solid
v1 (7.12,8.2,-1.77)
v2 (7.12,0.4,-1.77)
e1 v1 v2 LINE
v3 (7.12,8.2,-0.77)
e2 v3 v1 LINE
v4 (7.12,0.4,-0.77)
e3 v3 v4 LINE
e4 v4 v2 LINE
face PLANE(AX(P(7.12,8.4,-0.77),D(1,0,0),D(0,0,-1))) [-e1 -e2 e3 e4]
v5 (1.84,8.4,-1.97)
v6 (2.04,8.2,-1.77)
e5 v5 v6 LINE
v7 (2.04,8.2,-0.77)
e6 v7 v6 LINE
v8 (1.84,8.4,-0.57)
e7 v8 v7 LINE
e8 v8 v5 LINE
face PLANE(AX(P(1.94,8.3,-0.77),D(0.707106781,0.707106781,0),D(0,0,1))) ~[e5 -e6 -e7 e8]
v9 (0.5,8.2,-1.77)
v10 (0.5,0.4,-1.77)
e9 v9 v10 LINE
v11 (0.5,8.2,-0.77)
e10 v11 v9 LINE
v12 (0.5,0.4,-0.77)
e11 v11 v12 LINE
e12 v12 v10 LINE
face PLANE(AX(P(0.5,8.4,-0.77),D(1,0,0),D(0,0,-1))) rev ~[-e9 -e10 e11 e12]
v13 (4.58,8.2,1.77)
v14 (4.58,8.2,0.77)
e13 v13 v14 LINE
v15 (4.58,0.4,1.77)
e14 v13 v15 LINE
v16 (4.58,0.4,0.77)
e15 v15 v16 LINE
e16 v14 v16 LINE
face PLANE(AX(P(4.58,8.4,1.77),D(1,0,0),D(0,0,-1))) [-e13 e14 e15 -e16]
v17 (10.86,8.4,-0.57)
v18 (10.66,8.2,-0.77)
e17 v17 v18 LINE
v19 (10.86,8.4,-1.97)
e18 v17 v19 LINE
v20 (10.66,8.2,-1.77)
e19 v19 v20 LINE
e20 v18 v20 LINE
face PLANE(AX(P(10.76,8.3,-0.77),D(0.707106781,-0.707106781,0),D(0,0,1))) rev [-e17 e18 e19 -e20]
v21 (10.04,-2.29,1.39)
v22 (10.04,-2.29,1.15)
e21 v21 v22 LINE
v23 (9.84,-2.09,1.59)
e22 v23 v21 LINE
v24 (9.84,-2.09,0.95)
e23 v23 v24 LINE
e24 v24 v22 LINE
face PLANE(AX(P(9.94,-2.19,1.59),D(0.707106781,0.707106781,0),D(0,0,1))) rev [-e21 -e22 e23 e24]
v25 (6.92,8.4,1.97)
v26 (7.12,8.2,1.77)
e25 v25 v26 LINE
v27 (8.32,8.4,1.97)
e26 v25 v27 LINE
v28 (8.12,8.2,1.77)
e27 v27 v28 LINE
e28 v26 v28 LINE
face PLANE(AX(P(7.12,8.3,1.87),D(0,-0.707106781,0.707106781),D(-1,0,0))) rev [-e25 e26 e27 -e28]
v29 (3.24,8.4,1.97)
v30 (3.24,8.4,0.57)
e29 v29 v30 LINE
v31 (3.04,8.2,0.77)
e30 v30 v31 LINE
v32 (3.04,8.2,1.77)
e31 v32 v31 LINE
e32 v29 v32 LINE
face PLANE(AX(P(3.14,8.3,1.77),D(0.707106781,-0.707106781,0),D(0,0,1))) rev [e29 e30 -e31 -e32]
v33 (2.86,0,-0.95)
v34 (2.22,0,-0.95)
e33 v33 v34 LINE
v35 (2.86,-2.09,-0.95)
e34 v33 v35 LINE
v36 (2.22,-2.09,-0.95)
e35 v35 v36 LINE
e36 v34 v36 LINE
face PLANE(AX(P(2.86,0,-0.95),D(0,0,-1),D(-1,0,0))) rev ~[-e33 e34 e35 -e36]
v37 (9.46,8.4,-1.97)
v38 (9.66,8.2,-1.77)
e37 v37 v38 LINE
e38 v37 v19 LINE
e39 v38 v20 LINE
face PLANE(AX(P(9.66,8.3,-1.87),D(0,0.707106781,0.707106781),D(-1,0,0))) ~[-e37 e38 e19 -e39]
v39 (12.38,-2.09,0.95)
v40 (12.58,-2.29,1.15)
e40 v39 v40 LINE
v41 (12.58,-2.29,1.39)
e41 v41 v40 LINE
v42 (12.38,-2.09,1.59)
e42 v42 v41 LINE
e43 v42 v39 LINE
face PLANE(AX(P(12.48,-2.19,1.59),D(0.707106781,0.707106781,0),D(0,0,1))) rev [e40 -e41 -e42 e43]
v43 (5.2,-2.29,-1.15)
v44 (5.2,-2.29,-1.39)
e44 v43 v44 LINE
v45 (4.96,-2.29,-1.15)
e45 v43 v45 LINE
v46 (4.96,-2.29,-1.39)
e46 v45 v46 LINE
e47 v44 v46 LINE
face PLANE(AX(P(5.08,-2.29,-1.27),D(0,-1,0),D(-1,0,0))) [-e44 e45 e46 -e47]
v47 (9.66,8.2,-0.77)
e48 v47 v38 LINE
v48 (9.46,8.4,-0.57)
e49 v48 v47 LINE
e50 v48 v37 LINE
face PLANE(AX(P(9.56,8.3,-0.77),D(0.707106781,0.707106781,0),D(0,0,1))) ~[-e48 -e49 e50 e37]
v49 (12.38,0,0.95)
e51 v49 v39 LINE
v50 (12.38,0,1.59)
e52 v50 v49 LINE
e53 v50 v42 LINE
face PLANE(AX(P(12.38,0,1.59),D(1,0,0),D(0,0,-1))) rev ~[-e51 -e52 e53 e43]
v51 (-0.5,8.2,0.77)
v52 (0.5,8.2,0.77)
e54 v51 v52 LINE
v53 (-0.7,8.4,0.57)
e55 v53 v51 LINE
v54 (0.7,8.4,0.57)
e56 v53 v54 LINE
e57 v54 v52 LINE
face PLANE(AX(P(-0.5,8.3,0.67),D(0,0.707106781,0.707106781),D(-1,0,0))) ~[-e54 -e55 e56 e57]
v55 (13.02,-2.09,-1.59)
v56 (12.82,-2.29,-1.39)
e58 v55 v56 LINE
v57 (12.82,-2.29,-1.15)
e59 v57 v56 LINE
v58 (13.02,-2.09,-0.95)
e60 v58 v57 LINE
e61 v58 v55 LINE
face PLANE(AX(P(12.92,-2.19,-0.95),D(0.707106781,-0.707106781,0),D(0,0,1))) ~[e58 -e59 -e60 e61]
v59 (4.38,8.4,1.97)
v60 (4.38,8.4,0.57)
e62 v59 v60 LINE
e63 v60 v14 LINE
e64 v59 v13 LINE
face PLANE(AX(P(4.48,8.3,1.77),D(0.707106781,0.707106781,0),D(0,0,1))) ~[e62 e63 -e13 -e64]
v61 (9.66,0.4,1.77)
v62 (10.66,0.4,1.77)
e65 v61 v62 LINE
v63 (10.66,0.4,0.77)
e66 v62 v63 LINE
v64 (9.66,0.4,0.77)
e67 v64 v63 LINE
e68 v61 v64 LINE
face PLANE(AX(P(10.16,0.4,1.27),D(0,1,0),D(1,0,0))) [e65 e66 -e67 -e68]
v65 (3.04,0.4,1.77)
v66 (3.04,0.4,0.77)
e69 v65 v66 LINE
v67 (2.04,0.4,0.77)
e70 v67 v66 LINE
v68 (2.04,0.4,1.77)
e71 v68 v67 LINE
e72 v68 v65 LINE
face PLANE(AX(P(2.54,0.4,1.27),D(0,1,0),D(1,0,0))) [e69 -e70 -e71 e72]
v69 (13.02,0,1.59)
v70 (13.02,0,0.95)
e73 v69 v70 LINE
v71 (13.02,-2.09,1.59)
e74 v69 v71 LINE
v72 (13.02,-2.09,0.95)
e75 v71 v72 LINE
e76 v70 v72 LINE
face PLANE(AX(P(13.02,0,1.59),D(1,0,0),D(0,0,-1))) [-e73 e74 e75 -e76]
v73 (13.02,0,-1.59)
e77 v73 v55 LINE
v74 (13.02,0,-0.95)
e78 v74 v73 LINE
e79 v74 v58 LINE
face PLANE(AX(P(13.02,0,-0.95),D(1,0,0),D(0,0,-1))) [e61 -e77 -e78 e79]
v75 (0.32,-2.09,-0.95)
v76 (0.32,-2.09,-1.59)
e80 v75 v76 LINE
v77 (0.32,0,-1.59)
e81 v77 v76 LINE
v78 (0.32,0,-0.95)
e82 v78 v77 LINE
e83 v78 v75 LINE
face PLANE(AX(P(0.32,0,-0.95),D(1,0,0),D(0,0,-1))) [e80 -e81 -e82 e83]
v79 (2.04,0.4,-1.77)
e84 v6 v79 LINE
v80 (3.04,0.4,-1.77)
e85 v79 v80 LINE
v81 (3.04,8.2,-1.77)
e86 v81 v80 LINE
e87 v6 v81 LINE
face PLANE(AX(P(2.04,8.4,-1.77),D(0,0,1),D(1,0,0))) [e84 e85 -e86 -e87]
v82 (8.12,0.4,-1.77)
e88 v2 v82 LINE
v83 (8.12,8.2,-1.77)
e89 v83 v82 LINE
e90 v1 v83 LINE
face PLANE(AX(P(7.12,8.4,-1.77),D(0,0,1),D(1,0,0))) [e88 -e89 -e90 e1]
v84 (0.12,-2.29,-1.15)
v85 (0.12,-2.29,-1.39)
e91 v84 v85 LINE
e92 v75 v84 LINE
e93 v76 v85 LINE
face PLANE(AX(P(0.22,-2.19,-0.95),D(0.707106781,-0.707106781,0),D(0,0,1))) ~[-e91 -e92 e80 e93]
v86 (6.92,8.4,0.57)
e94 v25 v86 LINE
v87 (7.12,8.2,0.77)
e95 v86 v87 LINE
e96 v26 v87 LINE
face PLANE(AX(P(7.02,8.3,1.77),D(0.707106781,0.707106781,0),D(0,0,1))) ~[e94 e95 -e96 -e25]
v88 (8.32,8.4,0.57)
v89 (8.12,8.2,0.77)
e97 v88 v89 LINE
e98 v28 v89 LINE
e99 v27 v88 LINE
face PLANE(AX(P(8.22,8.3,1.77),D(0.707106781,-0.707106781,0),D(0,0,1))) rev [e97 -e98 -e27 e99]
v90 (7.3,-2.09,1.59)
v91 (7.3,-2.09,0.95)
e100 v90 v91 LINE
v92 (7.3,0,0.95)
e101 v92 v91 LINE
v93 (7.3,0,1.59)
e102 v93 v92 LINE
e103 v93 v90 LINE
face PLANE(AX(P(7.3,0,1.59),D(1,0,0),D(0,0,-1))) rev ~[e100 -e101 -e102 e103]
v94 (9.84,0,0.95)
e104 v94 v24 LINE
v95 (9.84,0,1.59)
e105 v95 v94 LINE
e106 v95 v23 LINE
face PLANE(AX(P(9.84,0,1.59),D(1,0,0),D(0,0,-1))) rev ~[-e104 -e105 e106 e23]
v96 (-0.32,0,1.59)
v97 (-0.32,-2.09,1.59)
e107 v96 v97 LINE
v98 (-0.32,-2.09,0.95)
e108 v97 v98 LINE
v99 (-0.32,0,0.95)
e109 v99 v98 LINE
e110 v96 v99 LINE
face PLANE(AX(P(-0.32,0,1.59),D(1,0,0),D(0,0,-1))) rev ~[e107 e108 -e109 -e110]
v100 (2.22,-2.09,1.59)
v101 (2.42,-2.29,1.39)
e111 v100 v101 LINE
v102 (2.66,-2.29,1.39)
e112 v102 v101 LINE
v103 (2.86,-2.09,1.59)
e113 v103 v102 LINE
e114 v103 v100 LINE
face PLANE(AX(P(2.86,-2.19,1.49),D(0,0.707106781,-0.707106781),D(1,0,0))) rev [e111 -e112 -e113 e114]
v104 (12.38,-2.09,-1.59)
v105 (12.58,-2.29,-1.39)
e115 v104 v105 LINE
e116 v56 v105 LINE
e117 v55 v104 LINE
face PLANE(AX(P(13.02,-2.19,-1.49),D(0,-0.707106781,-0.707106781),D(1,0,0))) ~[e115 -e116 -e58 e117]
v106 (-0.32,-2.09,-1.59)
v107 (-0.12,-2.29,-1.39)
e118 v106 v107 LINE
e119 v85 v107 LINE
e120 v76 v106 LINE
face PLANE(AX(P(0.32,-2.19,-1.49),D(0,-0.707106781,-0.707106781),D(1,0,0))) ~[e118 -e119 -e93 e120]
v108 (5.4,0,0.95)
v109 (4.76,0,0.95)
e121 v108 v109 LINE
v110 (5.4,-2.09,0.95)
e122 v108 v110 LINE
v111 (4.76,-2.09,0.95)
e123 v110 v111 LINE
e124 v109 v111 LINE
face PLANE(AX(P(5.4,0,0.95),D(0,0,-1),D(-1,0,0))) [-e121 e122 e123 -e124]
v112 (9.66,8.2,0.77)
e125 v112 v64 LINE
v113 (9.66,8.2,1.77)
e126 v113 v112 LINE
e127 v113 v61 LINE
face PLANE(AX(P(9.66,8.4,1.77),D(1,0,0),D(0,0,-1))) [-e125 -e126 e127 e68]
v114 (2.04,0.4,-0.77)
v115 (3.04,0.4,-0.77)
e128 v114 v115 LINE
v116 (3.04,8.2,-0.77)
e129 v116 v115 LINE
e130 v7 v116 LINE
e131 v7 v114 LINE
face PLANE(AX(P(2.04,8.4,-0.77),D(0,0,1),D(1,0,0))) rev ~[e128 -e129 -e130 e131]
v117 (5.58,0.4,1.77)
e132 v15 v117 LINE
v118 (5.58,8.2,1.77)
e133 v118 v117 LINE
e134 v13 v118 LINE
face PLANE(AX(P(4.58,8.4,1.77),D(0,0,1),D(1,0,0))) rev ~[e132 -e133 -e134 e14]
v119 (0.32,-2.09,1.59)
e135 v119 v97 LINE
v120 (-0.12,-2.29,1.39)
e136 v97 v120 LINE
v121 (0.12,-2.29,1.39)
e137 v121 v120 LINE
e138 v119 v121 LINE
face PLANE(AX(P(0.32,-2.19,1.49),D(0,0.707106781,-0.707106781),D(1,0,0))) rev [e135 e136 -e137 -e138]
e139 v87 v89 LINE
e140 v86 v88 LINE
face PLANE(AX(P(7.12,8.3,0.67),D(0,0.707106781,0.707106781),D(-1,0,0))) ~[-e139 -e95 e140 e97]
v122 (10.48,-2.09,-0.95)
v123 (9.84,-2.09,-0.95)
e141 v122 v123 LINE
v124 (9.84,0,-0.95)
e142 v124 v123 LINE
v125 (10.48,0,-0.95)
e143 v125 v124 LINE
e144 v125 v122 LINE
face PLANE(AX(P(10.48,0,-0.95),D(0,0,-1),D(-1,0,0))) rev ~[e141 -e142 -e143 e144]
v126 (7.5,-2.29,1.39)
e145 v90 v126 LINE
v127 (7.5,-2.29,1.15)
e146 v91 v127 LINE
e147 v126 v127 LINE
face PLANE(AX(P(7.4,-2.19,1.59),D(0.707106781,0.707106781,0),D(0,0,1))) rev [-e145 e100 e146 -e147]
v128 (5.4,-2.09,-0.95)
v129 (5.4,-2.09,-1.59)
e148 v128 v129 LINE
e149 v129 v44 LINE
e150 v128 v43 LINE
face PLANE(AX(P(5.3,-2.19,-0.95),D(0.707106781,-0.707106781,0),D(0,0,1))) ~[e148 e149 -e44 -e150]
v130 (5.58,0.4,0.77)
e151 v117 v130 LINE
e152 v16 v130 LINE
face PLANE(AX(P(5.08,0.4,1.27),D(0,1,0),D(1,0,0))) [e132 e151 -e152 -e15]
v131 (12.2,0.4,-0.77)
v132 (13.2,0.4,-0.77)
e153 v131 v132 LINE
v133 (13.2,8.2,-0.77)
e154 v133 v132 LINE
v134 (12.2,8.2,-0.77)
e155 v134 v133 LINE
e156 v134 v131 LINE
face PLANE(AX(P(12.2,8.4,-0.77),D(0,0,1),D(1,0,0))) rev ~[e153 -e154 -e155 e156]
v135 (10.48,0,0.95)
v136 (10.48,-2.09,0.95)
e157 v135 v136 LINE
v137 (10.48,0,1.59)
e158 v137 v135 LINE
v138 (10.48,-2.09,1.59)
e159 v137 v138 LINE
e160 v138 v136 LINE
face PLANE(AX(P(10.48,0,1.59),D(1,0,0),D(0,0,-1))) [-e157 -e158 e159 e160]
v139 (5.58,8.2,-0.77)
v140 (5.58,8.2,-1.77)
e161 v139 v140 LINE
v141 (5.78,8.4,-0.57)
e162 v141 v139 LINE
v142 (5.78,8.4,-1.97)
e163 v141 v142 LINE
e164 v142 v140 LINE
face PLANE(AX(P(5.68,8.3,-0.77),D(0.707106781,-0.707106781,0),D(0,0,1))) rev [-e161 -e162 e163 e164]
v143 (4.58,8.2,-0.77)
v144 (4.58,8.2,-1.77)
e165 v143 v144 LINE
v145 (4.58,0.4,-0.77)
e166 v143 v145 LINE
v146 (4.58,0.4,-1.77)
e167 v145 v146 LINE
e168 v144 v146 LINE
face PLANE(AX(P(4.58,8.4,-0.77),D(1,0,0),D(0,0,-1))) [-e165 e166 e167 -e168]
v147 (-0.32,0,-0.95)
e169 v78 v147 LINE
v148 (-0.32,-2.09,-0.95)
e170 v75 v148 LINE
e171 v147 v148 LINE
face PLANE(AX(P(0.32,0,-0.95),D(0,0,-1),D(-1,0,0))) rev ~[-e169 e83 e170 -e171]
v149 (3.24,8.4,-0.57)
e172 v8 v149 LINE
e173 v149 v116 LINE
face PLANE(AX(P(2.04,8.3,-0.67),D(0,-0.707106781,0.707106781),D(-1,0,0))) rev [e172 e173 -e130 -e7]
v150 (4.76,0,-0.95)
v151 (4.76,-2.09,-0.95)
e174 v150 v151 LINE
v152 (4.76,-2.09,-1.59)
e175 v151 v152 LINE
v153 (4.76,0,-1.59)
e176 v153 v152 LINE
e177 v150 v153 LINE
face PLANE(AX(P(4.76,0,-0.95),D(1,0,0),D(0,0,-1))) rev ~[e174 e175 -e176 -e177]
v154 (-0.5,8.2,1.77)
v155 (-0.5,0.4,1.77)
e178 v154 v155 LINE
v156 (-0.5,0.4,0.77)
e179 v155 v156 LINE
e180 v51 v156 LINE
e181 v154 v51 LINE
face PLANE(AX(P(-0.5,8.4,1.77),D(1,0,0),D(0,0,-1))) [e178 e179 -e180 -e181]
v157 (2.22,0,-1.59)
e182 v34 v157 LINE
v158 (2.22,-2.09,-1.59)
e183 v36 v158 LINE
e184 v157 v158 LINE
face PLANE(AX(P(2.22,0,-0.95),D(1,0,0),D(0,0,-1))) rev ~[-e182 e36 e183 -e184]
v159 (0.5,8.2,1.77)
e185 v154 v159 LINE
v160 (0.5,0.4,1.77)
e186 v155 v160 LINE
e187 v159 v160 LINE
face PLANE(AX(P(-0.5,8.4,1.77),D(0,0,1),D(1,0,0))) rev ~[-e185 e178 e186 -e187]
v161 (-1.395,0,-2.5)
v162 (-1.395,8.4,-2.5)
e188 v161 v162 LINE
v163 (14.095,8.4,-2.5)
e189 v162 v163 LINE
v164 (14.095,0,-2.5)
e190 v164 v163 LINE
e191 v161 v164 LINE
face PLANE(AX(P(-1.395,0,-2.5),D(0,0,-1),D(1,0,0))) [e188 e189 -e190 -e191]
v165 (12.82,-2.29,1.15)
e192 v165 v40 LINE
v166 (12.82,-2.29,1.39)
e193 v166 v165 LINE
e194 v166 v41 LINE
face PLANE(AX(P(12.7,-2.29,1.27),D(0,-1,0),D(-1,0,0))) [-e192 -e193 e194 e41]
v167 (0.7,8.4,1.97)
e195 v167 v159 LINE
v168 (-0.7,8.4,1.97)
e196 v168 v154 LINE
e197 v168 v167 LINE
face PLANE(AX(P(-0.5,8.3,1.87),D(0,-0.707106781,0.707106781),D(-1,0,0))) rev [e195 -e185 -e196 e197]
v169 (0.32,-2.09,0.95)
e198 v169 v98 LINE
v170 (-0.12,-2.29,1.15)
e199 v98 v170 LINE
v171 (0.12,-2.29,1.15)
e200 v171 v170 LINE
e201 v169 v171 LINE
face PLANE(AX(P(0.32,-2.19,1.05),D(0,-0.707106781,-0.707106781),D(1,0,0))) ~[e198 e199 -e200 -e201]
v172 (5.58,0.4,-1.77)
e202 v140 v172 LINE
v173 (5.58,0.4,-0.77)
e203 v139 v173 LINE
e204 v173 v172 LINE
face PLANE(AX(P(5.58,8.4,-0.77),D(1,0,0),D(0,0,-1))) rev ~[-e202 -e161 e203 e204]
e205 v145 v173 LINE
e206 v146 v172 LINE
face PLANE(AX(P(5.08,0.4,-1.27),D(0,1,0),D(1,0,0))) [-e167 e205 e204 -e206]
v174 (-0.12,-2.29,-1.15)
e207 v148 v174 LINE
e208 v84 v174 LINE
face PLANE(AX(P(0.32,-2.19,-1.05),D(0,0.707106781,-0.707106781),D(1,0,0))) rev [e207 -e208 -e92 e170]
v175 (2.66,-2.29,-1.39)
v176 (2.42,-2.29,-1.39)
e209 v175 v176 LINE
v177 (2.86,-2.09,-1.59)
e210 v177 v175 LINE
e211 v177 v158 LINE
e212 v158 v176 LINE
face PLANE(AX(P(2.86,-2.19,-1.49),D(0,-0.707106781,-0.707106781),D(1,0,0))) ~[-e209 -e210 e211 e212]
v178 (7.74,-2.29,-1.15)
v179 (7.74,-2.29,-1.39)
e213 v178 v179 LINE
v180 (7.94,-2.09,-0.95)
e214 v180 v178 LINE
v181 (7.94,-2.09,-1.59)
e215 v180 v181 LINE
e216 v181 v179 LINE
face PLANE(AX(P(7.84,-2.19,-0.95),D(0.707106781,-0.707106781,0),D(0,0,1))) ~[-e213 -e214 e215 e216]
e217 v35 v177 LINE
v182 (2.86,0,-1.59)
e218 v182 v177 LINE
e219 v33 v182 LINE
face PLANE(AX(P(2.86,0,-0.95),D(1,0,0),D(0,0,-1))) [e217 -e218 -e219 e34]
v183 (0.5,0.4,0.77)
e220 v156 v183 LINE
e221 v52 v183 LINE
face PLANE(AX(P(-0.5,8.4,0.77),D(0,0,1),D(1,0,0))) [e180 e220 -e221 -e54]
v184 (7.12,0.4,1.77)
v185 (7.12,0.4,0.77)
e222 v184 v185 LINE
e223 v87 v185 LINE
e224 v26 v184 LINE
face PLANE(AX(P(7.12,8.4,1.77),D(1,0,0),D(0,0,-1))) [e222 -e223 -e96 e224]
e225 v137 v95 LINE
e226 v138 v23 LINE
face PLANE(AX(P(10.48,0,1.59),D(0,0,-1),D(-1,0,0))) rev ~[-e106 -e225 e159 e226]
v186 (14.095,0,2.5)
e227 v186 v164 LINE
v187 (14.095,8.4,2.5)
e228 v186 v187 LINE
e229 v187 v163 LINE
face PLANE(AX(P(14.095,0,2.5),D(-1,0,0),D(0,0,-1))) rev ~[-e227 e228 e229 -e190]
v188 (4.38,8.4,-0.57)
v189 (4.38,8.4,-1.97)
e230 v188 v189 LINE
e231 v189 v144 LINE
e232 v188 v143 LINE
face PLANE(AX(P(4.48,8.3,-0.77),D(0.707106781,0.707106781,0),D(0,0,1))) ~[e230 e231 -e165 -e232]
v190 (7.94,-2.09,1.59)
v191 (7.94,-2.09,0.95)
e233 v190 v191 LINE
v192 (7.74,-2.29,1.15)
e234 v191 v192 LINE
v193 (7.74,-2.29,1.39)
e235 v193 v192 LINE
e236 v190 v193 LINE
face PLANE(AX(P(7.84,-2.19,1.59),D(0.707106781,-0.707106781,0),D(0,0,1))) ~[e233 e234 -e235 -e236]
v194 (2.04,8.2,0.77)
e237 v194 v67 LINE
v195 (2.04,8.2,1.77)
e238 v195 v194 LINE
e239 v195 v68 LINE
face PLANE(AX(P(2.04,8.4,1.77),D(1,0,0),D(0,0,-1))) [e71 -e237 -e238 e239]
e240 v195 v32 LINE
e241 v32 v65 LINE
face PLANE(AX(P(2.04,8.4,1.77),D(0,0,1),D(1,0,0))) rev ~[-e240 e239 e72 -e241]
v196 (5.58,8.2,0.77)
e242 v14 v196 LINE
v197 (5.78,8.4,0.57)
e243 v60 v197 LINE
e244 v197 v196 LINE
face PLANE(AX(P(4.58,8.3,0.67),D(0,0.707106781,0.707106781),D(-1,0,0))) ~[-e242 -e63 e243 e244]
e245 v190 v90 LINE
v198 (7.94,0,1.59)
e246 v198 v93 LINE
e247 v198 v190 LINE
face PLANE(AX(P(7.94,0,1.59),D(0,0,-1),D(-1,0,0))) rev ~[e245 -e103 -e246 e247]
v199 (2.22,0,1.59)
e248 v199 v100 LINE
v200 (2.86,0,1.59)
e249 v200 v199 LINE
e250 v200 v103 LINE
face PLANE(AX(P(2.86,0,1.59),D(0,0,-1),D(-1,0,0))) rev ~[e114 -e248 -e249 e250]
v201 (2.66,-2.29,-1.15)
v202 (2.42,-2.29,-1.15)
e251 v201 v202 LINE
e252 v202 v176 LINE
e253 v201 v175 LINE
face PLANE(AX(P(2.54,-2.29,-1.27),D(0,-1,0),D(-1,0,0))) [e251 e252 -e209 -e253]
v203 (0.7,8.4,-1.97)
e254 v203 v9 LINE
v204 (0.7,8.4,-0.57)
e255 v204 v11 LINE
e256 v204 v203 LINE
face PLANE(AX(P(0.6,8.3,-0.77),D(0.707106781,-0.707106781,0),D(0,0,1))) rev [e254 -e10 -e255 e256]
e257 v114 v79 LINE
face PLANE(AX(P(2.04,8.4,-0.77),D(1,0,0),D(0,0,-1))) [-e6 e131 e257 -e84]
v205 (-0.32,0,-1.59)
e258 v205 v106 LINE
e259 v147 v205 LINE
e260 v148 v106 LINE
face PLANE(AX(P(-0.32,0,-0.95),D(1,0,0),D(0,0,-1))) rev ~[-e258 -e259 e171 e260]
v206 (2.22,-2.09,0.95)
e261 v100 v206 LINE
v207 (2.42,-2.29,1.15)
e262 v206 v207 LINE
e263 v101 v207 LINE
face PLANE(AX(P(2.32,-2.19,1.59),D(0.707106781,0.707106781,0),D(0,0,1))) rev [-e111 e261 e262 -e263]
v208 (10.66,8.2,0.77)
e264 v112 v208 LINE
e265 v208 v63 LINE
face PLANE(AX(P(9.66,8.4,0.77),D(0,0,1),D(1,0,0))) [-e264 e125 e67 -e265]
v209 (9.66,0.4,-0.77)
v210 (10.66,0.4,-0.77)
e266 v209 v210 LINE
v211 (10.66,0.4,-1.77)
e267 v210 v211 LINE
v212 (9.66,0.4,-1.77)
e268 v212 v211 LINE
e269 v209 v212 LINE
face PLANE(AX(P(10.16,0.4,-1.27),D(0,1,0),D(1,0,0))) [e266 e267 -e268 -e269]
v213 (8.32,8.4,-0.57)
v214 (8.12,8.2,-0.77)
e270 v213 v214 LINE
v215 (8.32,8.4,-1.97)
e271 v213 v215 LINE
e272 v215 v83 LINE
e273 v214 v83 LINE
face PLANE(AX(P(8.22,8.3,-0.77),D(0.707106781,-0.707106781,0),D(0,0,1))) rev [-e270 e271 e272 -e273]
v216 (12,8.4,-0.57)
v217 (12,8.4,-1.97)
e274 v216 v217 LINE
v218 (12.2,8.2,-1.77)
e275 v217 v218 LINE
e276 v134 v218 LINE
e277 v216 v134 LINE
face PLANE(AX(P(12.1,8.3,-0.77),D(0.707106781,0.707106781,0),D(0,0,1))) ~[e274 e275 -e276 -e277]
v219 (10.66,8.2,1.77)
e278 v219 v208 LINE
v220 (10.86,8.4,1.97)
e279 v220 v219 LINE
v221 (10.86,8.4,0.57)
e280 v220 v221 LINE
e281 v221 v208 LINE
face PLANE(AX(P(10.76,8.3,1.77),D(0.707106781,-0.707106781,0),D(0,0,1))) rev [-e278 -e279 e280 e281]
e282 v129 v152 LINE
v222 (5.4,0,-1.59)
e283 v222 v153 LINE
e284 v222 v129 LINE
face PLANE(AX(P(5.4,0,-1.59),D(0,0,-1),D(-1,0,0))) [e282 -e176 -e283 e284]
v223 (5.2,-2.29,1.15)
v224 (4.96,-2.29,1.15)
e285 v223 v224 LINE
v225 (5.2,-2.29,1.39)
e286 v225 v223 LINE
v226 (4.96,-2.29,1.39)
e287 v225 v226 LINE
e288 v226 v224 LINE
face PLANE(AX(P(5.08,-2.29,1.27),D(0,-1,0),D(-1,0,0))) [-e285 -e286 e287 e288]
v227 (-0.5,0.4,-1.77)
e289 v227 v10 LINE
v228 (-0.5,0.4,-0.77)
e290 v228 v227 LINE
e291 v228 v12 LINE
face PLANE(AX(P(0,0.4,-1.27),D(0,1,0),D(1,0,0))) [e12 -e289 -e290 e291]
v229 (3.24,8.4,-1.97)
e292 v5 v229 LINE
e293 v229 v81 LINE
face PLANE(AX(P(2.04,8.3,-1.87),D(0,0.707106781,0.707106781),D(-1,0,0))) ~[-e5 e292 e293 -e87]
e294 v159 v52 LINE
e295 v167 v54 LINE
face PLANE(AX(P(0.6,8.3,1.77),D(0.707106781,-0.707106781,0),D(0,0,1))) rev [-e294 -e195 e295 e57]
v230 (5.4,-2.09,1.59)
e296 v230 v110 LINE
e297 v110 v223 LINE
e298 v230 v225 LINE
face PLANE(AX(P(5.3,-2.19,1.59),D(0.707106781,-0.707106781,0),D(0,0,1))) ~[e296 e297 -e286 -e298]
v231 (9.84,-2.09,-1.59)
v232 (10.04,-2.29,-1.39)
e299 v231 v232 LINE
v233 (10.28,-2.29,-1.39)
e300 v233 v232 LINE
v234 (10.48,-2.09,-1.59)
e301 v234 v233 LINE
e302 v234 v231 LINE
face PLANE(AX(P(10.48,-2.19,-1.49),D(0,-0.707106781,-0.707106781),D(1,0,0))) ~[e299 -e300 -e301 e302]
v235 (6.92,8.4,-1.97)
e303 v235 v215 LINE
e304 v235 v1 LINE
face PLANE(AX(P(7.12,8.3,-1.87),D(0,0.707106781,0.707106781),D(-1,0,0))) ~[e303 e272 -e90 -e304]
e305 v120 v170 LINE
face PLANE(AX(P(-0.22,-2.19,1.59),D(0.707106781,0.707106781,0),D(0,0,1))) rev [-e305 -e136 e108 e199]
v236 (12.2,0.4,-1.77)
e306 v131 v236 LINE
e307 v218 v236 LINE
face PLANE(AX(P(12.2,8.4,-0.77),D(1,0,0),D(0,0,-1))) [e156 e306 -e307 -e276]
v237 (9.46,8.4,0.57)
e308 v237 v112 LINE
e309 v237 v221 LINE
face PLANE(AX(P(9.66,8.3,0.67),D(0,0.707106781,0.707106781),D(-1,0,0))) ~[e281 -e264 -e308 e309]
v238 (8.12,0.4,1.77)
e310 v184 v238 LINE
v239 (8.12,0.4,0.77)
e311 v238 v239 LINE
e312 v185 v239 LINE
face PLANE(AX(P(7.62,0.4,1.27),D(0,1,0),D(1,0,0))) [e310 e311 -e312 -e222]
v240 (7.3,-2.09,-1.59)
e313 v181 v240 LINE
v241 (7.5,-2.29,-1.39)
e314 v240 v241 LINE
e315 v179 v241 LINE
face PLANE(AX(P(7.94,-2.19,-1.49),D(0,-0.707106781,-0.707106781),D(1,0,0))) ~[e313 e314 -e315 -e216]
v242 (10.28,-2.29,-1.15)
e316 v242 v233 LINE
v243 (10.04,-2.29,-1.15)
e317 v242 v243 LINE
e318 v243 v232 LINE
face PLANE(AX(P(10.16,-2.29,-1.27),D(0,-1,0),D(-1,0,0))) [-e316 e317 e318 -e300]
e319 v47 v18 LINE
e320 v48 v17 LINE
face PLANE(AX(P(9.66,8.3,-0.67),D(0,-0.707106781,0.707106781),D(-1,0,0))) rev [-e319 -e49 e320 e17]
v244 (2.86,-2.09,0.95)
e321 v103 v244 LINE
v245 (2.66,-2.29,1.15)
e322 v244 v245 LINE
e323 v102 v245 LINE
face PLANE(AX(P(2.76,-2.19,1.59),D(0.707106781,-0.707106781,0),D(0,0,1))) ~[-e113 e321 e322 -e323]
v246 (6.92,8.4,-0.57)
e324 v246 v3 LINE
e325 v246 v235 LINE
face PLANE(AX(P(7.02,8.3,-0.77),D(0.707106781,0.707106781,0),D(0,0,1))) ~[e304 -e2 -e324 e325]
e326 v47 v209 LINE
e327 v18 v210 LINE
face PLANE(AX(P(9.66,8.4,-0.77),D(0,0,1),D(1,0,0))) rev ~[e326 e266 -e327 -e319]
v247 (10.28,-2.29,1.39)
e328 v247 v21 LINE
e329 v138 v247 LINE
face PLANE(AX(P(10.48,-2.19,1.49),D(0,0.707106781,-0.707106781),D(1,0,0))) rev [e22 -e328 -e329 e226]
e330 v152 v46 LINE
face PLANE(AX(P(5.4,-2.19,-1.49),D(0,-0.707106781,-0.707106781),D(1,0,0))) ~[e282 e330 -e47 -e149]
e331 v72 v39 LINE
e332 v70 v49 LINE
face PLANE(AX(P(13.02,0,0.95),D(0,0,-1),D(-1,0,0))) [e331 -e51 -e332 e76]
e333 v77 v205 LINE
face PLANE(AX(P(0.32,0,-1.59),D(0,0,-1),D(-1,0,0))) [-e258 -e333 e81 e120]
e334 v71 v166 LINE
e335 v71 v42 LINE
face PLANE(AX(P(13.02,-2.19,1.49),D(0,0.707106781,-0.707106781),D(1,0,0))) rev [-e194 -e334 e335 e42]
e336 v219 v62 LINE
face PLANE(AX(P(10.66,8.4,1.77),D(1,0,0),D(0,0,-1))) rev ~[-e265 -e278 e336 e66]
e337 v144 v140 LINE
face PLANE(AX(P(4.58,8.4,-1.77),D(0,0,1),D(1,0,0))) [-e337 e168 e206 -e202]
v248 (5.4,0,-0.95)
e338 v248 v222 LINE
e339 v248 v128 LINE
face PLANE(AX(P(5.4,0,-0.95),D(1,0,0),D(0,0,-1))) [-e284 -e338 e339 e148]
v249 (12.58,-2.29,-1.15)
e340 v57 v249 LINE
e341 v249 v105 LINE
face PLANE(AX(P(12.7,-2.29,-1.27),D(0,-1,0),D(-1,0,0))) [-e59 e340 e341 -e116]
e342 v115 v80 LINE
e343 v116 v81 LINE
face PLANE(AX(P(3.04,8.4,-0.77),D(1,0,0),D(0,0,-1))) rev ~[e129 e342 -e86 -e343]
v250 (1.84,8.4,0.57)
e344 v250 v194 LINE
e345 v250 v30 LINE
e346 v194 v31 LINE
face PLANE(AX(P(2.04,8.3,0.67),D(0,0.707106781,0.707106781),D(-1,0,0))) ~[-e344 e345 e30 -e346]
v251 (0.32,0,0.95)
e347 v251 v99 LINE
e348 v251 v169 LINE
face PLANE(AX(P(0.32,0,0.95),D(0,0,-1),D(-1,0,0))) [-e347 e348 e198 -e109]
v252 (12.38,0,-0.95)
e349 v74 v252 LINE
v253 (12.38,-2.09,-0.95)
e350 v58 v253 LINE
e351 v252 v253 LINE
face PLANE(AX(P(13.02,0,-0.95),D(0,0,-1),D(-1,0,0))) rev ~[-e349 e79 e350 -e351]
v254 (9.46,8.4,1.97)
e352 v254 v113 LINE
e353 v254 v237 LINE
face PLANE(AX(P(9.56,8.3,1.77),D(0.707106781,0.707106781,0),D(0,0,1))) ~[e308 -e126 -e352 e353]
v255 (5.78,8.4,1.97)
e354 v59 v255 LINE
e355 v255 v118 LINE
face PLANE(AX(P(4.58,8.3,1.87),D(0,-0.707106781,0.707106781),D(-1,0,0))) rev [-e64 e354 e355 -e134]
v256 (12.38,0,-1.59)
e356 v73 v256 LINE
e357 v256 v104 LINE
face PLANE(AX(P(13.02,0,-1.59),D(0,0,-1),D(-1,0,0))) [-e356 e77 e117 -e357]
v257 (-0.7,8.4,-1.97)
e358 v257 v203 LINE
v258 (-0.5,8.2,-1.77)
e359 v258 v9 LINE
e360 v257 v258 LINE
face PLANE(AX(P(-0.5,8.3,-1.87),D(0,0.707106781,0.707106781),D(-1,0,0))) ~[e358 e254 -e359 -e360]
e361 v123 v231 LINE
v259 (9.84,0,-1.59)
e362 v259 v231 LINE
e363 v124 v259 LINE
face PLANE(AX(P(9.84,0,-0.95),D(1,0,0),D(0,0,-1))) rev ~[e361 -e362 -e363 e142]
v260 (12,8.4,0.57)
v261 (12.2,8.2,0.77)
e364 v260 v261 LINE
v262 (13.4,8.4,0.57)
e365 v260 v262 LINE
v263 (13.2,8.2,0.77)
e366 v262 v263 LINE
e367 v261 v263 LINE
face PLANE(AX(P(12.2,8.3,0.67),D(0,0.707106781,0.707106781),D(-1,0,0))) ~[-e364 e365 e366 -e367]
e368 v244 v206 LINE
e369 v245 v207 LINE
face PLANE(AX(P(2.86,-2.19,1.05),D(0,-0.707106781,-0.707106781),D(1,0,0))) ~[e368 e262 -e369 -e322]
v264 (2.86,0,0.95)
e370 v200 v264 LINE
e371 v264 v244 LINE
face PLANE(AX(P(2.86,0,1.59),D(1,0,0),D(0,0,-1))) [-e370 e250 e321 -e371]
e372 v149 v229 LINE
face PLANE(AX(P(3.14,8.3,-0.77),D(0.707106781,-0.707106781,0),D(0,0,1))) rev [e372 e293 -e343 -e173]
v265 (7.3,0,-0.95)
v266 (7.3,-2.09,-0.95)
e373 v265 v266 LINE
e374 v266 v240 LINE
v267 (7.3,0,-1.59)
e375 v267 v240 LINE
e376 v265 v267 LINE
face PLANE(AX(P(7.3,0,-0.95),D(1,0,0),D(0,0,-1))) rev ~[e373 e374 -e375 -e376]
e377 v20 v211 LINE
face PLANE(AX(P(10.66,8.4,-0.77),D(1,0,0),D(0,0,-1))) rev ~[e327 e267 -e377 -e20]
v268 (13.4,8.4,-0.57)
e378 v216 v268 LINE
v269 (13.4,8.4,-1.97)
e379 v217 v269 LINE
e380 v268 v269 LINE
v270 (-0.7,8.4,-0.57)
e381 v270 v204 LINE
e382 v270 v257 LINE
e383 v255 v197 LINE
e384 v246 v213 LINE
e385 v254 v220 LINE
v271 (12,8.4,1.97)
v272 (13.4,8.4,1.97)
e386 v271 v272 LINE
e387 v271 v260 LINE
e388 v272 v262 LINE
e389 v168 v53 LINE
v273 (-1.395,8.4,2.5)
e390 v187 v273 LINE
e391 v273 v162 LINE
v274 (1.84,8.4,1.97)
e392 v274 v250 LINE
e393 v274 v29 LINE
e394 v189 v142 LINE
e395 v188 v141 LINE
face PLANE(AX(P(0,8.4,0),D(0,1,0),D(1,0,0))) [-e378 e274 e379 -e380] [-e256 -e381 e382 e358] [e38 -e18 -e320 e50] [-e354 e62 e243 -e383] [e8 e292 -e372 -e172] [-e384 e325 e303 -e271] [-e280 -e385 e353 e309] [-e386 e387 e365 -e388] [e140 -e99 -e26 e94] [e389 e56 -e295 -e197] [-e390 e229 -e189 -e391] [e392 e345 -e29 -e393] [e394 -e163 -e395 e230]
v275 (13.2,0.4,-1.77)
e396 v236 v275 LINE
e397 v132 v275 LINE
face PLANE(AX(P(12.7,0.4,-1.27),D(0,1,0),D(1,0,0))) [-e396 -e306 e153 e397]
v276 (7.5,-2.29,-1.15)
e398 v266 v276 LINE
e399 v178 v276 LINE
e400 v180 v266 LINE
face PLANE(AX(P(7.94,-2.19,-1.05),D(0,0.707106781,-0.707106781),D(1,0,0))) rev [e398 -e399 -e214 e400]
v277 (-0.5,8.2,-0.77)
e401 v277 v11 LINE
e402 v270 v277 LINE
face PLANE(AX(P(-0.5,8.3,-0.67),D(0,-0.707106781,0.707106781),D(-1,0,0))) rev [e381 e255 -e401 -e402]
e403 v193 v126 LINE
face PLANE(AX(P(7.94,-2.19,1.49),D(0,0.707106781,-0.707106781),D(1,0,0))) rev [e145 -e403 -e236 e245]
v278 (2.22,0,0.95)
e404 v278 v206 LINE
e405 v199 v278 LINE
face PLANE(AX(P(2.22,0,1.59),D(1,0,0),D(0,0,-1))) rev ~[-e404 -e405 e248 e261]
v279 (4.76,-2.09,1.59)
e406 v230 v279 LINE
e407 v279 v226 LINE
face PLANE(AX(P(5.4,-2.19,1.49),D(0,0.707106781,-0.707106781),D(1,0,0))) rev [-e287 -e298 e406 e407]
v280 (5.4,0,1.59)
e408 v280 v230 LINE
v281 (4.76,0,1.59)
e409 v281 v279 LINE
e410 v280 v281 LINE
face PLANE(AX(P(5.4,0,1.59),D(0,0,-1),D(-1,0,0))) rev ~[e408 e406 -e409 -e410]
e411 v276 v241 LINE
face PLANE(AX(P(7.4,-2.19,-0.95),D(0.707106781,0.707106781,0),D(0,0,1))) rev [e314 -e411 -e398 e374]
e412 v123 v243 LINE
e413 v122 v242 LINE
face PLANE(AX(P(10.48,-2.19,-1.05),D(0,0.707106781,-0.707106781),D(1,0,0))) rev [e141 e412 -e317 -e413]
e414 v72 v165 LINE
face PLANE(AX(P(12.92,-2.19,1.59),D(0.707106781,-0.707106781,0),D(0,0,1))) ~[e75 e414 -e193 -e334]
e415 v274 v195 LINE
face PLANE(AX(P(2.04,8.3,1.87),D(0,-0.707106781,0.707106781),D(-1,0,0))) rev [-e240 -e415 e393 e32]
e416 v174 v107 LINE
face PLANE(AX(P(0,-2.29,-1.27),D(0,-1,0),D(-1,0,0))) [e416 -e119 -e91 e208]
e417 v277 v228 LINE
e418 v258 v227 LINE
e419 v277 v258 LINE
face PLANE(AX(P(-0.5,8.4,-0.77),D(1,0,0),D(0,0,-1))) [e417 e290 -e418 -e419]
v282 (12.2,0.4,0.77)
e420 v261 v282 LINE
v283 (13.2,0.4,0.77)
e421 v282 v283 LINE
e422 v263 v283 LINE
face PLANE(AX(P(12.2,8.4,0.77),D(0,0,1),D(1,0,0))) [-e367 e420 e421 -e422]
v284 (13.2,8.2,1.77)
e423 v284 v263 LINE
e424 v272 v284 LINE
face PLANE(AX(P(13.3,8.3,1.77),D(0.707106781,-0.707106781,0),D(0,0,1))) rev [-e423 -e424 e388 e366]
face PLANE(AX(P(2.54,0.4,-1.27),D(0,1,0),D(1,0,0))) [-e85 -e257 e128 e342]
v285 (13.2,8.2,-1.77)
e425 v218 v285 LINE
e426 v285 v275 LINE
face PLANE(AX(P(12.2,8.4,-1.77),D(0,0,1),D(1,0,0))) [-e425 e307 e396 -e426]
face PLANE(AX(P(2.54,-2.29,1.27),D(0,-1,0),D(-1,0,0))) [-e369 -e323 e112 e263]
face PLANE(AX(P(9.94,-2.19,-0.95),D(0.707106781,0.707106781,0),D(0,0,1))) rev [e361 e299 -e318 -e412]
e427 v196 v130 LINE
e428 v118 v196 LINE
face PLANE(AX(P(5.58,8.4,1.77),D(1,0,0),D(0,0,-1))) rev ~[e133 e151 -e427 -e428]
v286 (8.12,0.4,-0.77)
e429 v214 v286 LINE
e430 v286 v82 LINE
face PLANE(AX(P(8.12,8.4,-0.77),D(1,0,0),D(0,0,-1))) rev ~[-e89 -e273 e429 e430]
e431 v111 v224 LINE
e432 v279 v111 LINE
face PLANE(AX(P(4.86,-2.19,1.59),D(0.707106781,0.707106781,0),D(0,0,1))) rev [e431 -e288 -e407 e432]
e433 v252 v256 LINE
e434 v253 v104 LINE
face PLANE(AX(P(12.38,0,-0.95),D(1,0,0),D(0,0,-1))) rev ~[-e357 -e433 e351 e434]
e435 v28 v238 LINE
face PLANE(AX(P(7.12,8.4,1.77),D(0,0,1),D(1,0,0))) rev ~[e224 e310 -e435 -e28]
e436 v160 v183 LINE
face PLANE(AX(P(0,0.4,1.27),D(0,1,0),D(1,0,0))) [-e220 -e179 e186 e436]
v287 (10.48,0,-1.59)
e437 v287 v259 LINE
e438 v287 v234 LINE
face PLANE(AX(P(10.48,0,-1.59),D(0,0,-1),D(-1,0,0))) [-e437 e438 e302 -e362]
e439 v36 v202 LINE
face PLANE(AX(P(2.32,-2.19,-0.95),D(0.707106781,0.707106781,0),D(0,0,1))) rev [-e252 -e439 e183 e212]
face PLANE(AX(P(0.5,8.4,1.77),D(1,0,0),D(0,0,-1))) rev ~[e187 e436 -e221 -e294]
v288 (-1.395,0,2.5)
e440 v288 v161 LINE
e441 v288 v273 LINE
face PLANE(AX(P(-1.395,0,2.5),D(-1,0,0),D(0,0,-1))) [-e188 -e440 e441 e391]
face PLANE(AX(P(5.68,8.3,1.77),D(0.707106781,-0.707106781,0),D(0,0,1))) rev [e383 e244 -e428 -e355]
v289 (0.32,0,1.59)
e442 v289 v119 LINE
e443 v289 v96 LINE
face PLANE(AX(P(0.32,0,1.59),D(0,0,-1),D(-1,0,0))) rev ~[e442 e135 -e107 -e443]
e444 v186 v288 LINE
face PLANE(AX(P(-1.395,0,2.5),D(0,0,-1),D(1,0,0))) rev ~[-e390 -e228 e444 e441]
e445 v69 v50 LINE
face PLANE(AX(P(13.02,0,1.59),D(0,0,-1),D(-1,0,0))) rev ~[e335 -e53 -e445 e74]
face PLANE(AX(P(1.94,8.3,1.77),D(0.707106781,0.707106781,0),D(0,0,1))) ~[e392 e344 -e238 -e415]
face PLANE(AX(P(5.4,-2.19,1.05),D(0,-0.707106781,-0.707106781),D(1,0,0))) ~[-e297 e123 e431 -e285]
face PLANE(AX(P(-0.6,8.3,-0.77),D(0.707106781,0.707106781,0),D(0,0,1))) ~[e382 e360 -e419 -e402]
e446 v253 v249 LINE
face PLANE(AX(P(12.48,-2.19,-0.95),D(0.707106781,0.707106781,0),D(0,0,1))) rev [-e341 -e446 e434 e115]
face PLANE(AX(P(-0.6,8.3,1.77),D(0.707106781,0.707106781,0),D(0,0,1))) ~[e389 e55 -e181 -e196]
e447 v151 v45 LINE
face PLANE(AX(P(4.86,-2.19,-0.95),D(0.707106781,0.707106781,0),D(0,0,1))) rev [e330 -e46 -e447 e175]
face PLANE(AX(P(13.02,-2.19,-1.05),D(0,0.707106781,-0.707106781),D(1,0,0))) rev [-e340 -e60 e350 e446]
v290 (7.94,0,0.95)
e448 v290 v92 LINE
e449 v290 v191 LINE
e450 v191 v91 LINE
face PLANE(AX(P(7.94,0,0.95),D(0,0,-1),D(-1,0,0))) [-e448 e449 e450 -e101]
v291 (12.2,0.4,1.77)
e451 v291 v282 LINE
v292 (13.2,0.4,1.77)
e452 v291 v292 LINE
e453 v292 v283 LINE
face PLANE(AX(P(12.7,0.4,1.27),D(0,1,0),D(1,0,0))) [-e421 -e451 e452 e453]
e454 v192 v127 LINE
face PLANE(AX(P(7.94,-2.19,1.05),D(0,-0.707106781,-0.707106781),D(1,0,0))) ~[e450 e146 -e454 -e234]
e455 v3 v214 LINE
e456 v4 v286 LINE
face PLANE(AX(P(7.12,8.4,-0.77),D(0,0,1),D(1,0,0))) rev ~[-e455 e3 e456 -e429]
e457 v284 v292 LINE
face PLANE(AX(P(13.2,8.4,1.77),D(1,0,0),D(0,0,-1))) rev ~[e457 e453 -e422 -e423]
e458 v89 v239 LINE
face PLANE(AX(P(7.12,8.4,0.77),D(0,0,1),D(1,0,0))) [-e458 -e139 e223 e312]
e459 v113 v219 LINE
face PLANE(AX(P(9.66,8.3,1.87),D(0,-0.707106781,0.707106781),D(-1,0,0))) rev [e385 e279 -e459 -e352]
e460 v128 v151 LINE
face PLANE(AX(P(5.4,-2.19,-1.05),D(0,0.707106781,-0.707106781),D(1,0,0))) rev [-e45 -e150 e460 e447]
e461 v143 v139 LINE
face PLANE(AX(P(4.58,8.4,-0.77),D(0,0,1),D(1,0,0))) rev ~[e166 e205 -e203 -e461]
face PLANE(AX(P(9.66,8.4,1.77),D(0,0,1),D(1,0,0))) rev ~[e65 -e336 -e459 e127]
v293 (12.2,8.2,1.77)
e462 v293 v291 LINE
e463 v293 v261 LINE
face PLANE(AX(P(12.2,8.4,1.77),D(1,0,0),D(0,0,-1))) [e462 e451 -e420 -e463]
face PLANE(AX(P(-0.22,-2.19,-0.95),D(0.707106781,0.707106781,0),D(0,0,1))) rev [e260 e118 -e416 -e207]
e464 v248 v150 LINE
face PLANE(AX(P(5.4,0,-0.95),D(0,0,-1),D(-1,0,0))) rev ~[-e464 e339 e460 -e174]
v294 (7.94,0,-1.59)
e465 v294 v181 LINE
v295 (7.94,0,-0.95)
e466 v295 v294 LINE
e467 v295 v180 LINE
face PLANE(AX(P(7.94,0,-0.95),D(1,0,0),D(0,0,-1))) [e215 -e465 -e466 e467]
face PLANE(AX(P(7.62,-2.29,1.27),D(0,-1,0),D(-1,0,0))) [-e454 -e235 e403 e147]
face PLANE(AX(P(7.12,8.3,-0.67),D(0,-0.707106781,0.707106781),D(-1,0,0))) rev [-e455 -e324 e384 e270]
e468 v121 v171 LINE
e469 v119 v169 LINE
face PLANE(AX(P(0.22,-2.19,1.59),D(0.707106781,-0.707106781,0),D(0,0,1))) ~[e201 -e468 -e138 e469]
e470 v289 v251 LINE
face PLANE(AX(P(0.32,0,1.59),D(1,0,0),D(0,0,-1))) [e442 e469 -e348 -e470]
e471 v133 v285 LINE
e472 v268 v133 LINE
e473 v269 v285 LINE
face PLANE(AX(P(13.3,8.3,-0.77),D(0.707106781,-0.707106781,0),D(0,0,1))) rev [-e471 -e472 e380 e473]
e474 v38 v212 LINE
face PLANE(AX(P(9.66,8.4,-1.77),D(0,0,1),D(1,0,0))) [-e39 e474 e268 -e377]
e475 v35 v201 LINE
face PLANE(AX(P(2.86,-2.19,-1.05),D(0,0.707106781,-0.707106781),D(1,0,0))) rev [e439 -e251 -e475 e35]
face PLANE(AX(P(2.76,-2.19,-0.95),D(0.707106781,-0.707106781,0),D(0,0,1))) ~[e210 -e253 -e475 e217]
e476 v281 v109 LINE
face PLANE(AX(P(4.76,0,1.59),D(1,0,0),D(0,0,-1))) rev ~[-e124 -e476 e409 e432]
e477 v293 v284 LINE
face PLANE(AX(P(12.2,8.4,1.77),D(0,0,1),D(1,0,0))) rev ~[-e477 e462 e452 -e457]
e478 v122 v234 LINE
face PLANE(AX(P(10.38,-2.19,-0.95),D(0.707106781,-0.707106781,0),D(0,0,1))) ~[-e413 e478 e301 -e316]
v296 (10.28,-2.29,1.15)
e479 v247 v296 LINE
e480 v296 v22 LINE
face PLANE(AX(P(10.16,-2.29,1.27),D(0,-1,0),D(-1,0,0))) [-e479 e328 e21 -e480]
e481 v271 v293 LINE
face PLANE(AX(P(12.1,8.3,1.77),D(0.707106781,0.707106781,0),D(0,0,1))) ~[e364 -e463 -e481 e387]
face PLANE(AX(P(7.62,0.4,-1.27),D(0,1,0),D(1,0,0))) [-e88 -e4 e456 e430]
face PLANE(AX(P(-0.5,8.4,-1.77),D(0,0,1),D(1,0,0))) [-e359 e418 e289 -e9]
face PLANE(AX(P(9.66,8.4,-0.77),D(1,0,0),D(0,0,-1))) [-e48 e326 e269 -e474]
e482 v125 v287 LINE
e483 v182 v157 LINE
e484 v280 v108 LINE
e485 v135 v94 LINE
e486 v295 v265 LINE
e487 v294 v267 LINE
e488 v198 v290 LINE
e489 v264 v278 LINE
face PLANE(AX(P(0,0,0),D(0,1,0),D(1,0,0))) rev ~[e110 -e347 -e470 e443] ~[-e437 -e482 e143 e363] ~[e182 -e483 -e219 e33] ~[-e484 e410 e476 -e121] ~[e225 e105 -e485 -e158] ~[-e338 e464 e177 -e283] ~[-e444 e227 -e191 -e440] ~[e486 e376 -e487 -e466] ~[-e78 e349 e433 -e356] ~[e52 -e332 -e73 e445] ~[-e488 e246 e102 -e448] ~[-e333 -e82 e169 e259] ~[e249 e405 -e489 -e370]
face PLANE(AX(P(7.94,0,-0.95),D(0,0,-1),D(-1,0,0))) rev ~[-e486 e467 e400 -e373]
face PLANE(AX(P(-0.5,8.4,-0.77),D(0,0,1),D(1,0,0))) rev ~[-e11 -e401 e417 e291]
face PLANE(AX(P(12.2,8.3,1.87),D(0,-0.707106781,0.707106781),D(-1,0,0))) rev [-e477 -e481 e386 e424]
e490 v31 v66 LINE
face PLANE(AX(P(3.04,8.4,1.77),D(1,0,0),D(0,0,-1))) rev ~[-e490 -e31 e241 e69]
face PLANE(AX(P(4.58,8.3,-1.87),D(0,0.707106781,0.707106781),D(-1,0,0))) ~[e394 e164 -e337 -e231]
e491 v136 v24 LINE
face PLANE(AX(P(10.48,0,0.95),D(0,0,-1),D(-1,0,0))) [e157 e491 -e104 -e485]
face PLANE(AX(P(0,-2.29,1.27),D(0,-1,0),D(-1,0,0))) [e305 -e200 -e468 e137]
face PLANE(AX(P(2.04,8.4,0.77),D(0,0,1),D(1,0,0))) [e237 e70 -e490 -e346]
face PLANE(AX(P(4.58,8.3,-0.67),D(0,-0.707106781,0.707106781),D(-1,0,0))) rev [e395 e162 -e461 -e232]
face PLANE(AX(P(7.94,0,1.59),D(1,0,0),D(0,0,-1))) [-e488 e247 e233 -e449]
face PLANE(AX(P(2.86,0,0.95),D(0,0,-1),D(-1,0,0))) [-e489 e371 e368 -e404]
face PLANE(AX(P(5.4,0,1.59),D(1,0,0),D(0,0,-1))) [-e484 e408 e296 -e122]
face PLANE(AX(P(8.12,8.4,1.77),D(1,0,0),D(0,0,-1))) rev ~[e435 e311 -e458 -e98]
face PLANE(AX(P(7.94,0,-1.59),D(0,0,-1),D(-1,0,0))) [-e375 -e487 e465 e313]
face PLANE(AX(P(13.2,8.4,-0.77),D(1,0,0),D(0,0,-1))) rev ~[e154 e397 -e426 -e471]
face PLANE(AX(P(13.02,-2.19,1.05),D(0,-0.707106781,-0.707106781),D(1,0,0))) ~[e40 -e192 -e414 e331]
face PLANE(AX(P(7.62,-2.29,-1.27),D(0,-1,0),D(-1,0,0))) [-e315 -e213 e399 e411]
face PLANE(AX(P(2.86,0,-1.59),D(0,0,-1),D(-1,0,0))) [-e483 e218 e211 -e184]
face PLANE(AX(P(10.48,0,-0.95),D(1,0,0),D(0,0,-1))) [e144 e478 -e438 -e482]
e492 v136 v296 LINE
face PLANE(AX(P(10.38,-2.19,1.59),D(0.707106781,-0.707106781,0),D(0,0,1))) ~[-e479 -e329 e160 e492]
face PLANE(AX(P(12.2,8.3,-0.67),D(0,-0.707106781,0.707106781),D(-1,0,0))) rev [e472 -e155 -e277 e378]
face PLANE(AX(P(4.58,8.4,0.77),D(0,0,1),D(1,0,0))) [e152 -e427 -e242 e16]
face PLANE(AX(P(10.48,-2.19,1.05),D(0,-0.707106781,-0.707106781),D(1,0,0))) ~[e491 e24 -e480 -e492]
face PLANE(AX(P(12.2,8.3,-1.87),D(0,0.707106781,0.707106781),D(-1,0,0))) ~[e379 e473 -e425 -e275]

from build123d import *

# Parameters (mm, degrees)
SKETCH_1_W                         = 2.79
SKETCH_1_H                         = 5
EXTRUDE_1_DEPTH                    = 8.4
SKETCH_2_W                         = 1
SKETCH_2_H                         = 1
CUT_EXTRUDE_1_DEPTH                = 8
CHAMFER_1_SIZE                     = 0.2
SKETCH_3_W                         = 0.64
SKETCH_3_H                         = 0.64
EXTRUDE_2_DEPTH                    = 2.29
CHAMFER_2_SIZE                     = 0.2
PATTERN_LINEAR_1_COUNT             = 6
PATTERN_LINEAR_1_PITCH             = 2.54
CHAMFER_1_OF_PATTERN_LINEAR_1_SIZE = 0.2
CHAMFER_2_OF_PATTERN_LINEAR_1_SIZE = 0.2


with BuildPart() as part:
    # Эскиз1 → Бобышка-Вытянуть1 (new body)
    with BuildSketch(Plane(origin=(0, 0, 0), x_dir=(1, 0, 0), z_dir=(0, 1, 0))):
        Rectangle(SKETCH_1_W, SKETCH_1_H)
    extrude_1 = extrude(amount=EXTRUDE_1_DEPTH)

    # Эскиз2 → Вырез-Вытянуть1 (cut)
    with BuildSketch(Plane(origin=(0, 8.4, 0), x_dir=(1, 0, 0), z_dir=(0, 1, 0))):
        with Locations((0, 1.27)):
            Rectangle(SKETCH_2_W, SKETCH_2_H)
        with Locations((0, -1.27)):
            Rectangle(SKETCH_2_W, SKETCH_2_H)
    cut_extrude_1 = extrude(amount=-CUT_EXTRUDE_1_DEPTH, mode=Mode.SUBTRACT)

    # Фаска1
    chamfer_1_edges = [part.edges().sort_by_distance(p)[0] for p in [
        (0.5, 8.4, -1.27),
        (0, 8.4, -1.77),
        (-0.5, 8.4, -1.27),
        (0, 8.4, -0.77),
        (0, 8.4, 1.77),
        (0.5, 8.4, 1.27),
        (0, 8.4, 0.77),
        (-0.5, 8.4, 1.27),
    ]]
    chamfer(chamfer_1_edges, length=CHAMFER_1_SIZE)

    # Эскиз3 → Бобышка-Вытянуть2 (add)
    with BuildSketch(Plane(origin=(0, 0, 0), x_dir=(-1, 0, 0), z_dir=(0, -1, 0))):
        with Locations((0, 1.27)):
            Rectangle(SKETCH_3_W, SKETCH_3_H)
        with Locations((0, -1.27)):
            Rectangle(SKETCH_3_W, SKETCH_3_H)
    extrude_2 = extrude(amount=EXTRUDE_2_DEPTH)

    # Фаска2
    chamfer_2_edges = [part.edges().sort_by_distance(p)[0] for p in [
        (0.32, -2.29, -1.27),
        (0, -2.29, -0.95),
        (-0.32, -2.29, -1.27),
        (0, -2.29, -1.59),
        (-0.32, -2.29, 1.27),
        (0, -2.29, 0.95),
        (0.32, -2.29, 1.27),
        (0, -2.29, 1.59),
    ]]
    chamfer(chamfer_2_edges, length=CHAMFER_2_SIZE)

    # Линейный массив1: Бобышка-Вытянуть1, Вырез-Вытянуть1, Бобышка-Вытянуть2 ×6
    with Locations(*[(i * PATTERN_LINEAR_1_PITCH, 0, 0) for i in range(1, PATTERN_LINEAR_1_COUNT)]):
        add(extrude_1)
        add(cut_extrude_1, mode=Mode.SUBTRACT)
        add(extrude_2)

    # Фаска1 of Линейный массив1
    chamfer_1_of_pattern_linear_1_edges = [part.edges().sort_by_distance(p)[0] for p in [
        (3.04, 8.4, -1.27),
        (2.54, 8.4, -1.77),
        (2.04, 8.4, -1.27),
        (2.54, 8.4, -0.77),
        (2.54, 8.4, 1.77),
        (3.04, 8.4, 1.27),
        (2.54, 8.4, 0.77),
        (2.04, 8.4, 1.27),
        (5.58, 8.4, -1.27),
        (5.08, 8.4, -1.77),
        (4.58, 8.4, -1.27),
        (5.08, 8.4, -0.77),
        (5.08, 8.4, 1.77),
        (5.58, 8.4, 1.27),
        (5.08, 8.4, 0.77),
        (4.58, 8.4, 1.27),
        (8.12, 8.4, -1.27),
        (7.62, 8.4, -1.77),
        (7.12, 8.4, -1.27),
        (7.62, 8.4, -0.77),
        (7.62, 8.4, 1.77),
        (8.12, 8.4, 1.27),
        (7.62, 8.4, 0.77),
        (7.12, 8.4, 1.27),
        (10.66, 8.4, -1.27),
        (10.16, 8.4, -1.77),
        (9.66, 8.4, -1.27),
        (10.16, 8.4, -0.77),
        (10.16, 8.4, 1.77),
        (10.66, 8.4, 1.27),
        (10.16, 8.4, 0.77),
        (9.66, 8.4, 1.27),
        (13.2, 8.4, -1.27),
        (12.7, 8.4, -1.77),
        (12.2, 8.4, -1.27),
        (12.7, 8.4, -0.77),
        (12.7, 8.4, 1.77),
        (13.2, 8.4, 1.27),
        (12.7, 8.4, 0.77),
        (12.2, 8.4, 1.27),
    ]]
    chamfer(chamfer_1_of_pattern_linear_1_edges, length=CHAMFER_1_OF_PATTERN_LINEAR_1_SIZE)

    # Фаска2 of Линейный массив1
    chamfer_2_of_pattern_linear_1_edges = [part.edges().sort_by_distance(p)[0] for p in [
        (2.86, -2.29, -1.27),
        (2.54, -2.29, -0.95),
        (2.22, -2.29, -1.27),
        (2.54, -2.29, -1.59),
        (2.22, -2.29, 1.27),
        (2.54, -2.29, 0.95),
        (2.86, -2.29, 1.27),
        (2.54, -2.29, 1.59),
        (5.4, -2.29, -1.27),
        (5.08, -2.29, -0.95),
        (4.76, -2.29, -1.27),
        (5.08, -2.29, -1.59),
        (4.76, -2.29, 1.27),
        (5.08, -2.29, 0.95),
        (5.4, -2.29, 1.27),
        (5.08, -2.29, 1.59),
        (7.94, -2.29, -1.27),
        (7.62, -2.29, -0.95),
        (7.3, -2.29, -1.27),
        (7.62, -2.29, -1.59),
        (7.3, -2.29, 1.27),
        (7.62, -2.29, 0.95),
        (7.94, -2.29, 1.27),
        (7.62, -2.29, 1.59),
        (10.48, -2.29, -1.27),
        (10.16, -2.29, -0.95),
        (9.84, -2.29, -1.27),
        (10.16, -2.29, -1.59),
        (9.84, -2.29, 1.27),
        (10.16, -2.29, 0.95),
        (10.48, -2.29, 1.27),
        (10.16, -2.29, 1.59),
        (13.02, -2.29, -1.27),
        (12.7, -2.29, -0.95),
        (12.38, -2.29, -1.27),
        (12.7, -2.29, -1.59),
        (12.38, -2.29, 1.27),
        (12.7, -2.29, 0.95),
        (13.02, -2.29, 1.27),
        (12.7, -2.29, 1.59),
    ]]
    chamfer(chamfer_2_of_pattern_linear_1_edges, length=CHAMFER_2_OF_PATTERN_LINEAR_1_SIZE)


solid = part.part
